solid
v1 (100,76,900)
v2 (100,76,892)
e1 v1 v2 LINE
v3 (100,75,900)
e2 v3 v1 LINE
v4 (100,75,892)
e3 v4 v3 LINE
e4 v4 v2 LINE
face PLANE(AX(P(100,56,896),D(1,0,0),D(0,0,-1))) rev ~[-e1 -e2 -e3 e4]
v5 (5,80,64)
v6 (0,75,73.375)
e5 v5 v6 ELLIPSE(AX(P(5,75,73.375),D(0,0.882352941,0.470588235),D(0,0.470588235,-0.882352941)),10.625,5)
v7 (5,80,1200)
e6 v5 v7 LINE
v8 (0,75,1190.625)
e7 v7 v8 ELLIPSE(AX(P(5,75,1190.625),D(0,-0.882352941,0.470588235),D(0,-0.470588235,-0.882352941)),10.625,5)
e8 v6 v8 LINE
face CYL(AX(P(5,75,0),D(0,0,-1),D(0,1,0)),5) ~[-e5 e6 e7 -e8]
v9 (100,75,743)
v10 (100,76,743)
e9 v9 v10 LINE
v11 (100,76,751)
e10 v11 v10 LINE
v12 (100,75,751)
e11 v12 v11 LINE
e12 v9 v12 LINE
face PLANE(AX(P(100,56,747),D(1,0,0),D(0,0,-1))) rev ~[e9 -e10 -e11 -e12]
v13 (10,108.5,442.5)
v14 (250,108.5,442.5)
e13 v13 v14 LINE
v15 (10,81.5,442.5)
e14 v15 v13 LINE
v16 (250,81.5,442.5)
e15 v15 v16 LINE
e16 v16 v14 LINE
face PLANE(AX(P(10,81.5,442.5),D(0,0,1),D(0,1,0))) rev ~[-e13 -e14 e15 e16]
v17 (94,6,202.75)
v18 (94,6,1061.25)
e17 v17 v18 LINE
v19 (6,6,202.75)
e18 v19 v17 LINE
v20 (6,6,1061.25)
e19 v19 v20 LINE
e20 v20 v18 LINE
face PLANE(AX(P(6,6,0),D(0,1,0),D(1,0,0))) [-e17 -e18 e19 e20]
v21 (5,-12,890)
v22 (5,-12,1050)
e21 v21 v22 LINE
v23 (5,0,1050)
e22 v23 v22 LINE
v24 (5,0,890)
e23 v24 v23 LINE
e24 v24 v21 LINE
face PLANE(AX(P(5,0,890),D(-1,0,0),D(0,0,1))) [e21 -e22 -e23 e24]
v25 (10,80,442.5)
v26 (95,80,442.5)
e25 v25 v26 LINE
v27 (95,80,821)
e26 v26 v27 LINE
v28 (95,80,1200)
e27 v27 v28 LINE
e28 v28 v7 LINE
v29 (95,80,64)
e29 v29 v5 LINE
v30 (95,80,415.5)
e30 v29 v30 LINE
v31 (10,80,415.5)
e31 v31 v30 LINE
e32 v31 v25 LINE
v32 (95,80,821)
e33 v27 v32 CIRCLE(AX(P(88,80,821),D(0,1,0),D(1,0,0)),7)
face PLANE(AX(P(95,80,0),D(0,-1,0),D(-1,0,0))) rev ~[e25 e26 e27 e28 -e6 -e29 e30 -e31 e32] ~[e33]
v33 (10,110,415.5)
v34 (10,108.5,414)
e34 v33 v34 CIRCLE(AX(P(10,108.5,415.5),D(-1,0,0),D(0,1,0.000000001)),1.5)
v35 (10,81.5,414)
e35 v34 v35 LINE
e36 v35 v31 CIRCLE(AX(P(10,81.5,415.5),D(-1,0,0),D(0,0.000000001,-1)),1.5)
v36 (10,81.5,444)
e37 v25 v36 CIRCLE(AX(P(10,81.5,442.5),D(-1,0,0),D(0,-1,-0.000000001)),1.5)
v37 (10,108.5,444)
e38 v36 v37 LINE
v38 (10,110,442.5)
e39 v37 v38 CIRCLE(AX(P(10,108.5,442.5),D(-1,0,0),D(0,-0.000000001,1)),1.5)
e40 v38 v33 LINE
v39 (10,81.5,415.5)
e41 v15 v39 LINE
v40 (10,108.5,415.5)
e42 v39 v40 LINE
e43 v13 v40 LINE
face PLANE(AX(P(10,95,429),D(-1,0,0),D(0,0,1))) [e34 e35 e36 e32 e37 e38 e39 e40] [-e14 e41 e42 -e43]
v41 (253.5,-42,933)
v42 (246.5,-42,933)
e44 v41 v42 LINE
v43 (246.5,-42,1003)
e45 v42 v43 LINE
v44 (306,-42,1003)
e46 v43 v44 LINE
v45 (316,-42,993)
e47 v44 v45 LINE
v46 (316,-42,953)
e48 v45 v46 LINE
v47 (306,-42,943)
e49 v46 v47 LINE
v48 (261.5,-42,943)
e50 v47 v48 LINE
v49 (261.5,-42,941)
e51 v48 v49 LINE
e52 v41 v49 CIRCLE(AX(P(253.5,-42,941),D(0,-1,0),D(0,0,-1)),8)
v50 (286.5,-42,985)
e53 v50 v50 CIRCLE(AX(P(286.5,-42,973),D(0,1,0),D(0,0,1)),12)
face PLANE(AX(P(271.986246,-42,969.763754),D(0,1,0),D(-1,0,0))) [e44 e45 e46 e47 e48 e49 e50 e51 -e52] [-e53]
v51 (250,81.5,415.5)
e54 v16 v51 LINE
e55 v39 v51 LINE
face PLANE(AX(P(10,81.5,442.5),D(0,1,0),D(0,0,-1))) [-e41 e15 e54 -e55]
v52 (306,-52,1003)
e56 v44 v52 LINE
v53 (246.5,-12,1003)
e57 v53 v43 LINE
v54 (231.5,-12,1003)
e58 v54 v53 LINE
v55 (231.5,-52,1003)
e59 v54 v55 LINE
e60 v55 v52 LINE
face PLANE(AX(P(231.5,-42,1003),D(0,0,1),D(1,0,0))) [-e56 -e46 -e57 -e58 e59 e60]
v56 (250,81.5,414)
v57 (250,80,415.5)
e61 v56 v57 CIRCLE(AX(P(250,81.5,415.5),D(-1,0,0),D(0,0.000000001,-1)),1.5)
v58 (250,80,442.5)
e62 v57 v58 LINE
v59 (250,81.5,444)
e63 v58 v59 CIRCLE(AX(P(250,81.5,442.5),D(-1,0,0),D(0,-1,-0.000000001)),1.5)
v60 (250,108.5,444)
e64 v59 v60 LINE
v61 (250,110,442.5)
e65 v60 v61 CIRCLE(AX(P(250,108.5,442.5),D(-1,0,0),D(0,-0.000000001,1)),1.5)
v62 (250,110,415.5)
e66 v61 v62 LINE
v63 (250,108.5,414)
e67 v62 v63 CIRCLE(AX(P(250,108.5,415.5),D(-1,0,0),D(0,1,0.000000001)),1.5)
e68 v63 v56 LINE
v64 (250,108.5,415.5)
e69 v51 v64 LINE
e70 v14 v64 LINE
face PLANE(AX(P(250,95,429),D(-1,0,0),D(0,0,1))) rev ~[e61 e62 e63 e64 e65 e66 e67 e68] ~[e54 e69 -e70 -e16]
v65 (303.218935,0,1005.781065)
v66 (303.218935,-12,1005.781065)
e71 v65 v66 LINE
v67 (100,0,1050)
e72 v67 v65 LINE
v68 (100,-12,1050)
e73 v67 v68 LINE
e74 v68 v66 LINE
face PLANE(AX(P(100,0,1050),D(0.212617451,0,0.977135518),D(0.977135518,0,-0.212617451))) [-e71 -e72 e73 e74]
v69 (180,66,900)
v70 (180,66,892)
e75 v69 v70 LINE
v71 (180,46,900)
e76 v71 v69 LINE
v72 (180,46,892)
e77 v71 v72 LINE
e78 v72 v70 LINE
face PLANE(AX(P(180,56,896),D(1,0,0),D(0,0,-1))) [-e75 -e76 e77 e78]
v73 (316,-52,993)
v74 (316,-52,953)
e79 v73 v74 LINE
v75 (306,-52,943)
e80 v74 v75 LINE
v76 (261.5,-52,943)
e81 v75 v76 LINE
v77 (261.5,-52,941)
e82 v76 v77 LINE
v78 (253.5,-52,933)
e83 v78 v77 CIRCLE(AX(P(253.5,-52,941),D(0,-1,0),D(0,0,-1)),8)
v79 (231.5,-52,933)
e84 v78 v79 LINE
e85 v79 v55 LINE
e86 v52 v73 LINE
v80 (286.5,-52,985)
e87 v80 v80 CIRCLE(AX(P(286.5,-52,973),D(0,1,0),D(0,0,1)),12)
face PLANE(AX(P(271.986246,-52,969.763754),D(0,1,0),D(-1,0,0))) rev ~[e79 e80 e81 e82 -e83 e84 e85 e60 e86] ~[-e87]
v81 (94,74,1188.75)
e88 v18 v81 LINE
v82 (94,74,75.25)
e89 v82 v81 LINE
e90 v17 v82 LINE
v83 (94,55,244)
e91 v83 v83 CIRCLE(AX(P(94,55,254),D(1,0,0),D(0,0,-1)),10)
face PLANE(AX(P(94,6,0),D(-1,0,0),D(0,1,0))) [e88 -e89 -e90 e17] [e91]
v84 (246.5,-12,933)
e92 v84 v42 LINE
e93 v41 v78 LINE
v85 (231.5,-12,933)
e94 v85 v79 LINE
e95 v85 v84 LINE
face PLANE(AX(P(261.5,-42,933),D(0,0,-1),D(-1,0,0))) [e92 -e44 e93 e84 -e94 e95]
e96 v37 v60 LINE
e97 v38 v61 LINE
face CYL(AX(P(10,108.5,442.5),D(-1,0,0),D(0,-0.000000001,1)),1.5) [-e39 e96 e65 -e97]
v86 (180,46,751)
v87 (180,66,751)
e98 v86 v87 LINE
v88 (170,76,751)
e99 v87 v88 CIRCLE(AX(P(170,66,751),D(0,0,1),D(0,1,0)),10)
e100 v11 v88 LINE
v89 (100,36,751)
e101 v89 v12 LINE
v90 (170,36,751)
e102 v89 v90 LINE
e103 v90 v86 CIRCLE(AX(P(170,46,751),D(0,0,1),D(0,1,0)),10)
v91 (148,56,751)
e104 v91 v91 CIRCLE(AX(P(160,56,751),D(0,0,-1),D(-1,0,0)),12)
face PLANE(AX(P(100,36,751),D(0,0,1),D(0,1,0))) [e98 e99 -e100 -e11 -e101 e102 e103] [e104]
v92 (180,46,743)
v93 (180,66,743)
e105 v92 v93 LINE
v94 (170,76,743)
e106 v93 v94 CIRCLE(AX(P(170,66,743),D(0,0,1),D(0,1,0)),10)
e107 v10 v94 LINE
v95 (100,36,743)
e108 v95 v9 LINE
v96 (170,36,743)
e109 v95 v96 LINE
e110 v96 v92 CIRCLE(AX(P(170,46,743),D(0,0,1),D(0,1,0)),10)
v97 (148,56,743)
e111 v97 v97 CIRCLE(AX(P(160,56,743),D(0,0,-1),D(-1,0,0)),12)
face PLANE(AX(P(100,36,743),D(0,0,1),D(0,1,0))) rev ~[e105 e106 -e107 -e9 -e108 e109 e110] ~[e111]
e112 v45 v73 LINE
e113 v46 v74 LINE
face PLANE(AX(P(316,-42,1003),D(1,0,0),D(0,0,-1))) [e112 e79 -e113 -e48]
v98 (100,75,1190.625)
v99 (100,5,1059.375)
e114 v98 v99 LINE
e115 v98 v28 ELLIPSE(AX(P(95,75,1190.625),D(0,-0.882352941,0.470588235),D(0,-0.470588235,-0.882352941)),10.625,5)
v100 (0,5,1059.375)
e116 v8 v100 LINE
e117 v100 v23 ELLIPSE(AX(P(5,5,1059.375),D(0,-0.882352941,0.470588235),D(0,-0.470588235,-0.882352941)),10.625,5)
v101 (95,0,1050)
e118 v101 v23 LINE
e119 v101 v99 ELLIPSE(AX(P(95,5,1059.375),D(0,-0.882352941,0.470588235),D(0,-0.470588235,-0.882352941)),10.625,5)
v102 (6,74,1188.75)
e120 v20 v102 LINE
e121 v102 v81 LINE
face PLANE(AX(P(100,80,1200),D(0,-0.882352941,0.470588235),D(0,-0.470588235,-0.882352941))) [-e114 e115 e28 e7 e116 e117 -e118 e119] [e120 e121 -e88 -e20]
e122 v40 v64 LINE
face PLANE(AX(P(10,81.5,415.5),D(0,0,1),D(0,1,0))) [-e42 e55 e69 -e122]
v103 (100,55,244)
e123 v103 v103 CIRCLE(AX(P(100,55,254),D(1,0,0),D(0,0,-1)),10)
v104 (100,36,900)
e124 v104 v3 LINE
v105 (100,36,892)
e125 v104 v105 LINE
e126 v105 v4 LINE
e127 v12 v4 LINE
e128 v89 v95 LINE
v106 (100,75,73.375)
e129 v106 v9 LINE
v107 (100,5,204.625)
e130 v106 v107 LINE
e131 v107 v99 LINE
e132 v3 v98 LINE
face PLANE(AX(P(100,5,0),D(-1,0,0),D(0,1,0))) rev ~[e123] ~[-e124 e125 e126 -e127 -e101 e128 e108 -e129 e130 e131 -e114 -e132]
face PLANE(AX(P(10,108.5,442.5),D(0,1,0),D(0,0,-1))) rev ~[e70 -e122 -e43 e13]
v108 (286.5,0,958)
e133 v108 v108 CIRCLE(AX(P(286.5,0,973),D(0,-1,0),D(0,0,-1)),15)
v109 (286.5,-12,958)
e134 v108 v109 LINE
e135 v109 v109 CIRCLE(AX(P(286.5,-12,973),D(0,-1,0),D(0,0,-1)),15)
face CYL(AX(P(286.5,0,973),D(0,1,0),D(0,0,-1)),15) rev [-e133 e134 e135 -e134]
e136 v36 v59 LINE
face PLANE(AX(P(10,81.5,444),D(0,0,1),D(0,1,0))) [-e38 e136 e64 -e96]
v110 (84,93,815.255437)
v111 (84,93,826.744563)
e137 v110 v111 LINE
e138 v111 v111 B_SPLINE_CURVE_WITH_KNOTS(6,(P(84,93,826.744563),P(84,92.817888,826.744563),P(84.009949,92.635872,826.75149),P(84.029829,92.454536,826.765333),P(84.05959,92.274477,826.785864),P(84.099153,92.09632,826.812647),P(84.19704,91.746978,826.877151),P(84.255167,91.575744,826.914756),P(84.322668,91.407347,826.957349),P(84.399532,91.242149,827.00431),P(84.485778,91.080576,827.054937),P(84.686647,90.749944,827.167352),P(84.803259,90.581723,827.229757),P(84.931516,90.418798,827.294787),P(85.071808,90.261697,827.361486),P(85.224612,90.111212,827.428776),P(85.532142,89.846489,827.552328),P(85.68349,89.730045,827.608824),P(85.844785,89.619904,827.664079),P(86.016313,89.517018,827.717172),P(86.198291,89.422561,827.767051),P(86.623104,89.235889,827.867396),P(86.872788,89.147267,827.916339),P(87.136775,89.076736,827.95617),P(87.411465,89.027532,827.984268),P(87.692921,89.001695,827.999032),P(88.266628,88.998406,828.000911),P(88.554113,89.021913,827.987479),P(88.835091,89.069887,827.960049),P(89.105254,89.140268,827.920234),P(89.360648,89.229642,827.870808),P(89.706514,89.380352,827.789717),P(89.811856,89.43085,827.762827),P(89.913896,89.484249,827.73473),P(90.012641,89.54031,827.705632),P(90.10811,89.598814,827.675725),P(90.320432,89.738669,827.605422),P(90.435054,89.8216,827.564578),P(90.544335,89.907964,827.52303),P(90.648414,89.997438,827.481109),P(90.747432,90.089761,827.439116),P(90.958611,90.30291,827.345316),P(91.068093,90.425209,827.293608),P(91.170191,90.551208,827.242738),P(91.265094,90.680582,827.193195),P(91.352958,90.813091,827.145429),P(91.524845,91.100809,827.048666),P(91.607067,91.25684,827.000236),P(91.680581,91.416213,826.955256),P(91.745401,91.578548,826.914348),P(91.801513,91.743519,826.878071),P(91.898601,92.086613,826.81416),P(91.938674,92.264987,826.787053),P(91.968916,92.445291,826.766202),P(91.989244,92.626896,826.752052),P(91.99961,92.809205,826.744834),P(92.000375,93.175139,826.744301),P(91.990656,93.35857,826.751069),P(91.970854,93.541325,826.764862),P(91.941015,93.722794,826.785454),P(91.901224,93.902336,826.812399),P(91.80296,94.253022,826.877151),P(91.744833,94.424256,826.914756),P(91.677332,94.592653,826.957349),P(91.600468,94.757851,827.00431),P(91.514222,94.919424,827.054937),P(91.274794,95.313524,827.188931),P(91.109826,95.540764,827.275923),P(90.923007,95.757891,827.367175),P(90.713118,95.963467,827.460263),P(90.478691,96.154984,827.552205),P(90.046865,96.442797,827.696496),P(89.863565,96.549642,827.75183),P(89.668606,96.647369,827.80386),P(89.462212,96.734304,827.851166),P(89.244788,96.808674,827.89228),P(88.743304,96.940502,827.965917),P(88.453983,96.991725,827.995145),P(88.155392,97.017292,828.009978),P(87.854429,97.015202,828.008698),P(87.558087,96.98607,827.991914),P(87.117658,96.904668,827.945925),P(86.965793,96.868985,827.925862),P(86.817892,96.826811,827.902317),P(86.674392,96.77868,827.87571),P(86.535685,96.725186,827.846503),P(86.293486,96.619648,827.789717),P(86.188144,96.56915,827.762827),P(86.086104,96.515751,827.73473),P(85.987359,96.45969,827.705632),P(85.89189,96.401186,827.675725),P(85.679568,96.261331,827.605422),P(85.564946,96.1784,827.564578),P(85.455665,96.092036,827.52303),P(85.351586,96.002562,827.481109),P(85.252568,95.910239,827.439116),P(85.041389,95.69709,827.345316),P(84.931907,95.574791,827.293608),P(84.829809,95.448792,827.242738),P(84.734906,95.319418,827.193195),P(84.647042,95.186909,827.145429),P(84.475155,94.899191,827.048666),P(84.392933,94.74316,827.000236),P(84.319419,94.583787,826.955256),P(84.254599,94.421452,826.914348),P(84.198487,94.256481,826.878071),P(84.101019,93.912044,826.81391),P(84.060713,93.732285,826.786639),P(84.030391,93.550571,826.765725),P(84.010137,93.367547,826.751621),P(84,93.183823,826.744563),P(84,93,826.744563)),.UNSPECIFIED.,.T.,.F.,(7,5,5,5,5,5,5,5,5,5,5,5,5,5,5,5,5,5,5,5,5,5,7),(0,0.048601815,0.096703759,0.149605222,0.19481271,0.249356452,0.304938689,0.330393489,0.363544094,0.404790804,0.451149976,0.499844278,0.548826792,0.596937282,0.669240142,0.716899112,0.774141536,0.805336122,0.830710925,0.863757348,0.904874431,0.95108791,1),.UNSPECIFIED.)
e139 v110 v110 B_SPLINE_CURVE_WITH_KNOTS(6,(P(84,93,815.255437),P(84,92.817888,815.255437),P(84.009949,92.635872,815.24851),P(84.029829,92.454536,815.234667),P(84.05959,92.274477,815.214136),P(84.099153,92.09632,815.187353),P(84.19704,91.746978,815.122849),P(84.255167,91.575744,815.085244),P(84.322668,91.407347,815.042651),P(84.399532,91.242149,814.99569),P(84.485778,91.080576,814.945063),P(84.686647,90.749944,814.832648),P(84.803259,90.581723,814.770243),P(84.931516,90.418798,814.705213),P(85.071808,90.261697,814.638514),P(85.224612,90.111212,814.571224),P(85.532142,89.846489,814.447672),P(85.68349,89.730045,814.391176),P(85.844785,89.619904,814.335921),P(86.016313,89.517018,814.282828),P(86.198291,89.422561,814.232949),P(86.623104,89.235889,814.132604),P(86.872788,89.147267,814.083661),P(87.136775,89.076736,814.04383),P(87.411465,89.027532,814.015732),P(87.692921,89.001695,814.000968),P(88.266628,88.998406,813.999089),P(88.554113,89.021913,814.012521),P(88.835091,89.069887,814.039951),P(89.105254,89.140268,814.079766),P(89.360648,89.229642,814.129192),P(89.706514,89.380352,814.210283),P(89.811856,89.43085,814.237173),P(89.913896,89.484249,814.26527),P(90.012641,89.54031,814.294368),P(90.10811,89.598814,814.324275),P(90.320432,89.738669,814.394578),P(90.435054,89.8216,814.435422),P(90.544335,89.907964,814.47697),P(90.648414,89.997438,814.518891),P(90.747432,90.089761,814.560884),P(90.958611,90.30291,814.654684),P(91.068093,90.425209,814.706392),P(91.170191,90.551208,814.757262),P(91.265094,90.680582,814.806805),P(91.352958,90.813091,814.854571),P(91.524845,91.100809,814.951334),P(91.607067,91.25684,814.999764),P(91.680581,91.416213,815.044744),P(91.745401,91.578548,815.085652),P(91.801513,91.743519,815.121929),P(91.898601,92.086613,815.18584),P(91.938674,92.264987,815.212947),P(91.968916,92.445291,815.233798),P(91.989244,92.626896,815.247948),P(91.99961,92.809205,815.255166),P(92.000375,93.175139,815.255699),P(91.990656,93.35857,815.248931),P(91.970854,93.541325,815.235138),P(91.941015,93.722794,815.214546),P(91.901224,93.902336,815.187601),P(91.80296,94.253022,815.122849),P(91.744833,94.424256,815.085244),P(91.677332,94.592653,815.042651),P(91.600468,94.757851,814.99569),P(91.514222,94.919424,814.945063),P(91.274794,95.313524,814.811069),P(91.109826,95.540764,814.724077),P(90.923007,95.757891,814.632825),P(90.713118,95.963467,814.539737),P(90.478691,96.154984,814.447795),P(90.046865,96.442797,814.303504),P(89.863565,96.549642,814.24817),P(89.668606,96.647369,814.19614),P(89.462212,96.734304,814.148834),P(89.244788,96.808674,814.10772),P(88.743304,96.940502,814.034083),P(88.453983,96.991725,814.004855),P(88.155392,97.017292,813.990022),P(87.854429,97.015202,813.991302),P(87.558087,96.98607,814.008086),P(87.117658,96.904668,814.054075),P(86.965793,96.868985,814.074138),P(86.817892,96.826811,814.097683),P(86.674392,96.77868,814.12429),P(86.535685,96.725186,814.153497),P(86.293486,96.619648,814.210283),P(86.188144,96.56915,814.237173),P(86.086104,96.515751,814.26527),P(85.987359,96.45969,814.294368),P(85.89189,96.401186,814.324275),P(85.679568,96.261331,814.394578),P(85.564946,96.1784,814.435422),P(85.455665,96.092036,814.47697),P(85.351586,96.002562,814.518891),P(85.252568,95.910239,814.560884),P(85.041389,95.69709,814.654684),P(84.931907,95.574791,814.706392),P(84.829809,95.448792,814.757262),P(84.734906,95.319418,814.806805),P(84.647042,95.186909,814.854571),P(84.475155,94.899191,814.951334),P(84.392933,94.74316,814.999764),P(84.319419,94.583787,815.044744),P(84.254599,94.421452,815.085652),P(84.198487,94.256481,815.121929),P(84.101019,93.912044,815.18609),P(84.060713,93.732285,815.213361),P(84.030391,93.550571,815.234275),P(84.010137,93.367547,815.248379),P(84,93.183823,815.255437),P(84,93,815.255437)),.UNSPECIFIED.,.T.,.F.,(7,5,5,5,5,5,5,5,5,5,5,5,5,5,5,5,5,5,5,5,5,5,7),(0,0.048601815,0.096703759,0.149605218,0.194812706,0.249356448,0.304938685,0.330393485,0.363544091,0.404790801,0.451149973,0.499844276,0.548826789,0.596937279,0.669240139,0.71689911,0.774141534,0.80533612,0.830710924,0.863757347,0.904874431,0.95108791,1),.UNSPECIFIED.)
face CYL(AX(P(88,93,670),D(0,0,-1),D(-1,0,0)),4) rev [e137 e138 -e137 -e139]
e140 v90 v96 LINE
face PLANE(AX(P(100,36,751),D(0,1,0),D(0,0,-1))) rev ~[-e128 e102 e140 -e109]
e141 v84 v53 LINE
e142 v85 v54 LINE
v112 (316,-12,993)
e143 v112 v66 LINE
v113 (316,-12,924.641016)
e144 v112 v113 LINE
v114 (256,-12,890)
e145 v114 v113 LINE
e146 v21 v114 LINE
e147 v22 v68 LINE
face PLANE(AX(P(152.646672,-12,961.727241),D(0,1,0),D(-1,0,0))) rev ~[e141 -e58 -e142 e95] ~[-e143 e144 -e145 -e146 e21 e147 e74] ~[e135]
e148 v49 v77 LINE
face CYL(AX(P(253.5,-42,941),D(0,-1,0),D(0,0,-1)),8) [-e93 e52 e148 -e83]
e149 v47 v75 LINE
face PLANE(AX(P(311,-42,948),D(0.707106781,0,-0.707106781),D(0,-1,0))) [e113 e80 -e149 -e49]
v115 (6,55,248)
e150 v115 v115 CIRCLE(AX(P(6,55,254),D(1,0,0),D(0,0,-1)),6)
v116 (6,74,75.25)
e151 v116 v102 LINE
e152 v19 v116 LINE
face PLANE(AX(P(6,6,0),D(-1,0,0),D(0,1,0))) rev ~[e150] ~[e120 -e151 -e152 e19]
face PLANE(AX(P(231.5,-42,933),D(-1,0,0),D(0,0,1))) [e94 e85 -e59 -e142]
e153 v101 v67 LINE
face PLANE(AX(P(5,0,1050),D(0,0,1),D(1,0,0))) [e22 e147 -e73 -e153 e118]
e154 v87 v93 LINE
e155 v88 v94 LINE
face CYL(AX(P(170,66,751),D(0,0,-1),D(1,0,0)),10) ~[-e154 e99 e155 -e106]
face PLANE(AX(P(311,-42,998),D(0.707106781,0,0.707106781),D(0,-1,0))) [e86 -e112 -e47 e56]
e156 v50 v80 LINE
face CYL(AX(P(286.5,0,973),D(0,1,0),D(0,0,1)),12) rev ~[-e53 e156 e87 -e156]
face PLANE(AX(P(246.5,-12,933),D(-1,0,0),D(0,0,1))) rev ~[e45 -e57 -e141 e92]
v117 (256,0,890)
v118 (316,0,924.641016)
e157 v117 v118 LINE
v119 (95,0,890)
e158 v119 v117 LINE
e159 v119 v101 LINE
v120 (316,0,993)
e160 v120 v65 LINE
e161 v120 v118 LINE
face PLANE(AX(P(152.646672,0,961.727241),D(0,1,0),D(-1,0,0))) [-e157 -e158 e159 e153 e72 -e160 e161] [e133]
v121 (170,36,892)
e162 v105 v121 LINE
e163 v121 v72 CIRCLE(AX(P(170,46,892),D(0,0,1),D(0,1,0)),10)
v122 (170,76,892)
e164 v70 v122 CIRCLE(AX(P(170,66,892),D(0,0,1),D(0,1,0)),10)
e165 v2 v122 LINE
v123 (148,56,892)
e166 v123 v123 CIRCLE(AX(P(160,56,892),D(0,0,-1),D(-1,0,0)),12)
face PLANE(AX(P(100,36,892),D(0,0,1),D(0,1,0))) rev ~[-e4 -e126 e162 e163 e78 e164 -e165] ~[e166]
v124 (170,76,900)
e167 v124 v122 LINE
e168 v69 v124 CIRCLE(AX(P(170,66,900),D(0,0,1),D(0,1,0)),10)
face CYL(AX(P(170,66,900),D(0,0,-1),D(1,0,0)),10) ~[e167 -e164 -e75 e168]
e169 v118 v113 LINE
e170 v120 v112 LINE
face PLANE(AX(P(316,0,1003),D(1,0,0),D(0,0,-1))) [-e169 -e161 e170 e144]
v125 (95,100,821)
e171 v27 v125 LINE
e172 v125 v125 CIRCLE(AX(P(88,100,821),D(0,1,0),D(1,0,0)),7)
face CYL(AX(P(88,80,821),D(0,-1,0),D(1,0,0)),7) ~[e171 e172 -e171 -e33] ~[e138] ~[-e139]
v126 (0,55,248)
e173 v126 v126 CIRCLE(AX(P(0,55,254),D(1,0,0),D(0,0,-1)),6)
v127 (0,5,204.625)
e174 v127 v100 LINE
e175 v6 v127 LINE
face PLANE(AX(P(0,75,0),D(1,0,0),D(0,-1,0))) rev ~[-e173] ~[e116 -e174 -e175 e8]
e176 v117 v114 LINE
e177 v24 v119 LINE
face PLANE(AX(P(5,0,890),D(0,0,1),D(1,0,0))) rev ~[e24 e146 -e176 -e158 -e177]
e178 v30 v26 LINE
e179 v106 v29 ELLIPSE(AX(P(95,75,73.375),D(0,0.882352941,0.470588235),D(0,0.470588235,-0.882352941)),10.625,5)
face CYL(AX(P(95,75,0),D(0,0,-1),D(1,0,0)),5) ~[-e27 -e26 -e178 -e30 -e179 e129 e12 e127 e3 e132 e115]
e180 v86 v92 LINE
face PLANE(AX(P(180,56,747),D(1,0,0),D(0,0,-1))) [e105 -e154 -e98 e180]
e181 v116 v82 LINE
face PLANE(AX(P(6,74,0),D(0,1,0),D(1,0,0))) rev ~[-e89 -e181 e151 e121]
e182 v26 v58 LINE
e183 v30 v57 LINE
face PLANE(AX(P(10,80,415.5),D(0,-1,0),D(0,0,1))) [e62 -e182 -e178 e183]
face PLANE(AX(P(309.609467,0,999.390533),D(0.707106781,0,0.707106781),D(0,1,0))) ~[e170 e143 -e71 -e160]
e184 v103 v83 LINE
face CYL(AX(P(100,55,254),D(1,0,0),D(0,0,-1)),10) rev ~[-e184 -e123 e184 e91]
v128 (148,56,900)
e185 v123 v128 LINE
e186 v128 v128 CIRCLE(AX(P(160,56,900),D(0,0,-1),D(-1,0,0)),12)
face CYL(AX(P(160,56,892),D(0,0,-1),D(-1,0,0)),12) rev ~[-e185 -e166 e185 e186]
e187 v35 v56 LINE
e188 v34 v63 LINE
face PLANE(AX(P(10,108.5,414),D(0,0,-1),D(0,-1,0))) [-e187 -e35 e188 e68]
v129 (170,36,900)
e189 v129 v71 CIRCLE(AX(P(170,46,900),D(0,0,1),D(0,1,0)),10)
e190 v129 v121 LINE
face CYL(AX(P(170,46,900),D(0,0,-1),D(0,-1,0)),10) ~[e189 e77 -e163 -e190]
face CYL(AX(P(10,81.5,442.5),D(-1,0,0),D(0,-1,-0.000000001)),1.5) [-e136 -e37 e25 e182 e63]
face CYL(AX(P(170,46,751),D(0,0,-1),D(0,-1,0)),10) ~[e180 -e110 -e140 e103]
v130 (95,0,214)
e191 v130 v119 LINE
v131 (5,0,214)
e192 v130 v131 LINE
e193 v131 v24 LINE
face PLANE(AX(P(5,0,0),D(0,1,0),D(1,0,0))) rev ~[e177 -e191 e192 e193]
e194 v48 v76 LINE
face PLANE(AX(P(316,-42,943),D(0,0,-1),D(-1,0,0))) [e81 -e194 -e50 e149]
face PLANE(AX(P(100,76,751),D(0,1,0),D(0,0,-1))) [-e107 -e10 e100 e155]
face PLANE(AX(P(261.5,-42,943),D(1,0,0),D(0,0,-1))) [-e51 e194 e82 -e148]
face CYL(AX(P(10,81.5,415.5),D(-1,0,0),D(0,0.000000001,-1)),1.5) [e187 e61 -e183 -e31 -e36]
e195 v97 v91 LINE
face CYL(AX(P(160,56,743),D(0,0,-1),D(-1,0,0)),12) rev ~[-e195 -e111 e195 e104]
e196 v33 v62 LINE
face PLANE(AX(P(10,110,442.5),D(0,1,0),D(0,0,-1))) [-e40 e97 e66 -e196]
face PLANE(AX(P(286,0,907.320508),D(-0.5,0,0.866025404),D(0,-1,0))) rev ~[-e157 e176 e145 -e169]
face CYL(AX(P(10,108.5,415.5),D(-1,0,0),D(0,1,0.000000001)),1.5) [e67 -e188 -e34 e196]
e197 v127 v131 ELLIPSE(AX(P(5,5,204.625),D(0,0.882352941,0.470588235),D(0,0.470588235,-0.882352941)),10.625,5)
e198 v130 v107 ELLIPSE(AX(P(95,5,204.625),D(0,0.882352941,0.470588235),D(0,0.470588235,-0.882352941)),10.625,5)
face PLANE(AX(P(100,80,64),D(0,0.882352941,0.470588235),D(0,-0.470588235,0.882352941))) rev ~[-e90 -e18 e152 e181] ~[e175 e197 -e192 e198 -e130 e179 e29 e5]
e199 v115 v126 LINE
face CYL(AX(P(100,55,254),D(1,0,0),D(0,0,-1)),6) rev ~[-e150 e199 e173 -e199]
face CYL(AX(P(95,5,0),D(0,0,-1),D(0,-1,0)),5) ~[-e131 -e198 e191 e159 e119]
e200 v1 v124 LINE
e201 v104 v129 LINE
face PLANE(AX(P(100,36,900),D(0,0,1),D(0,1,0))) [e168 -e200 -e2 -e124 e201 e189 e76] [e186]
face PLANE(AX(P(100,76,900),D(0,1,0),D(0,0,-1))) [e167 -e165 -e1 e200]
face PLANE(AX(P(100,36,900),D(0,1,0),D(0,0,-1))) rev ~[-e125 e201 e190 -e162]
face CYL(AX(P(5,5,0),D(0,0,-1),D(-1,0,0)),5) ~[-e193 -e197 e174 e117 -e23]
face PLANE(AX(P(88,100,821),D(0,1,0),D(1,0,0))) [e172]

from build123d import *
from OCP.BRepFilletAPI import BRepFilletAPI_MakeChamfer

# Parameters (mm, degrees)
SCHIZZO1_W                      = 88
SCHIZZO1_H                      = 68
ESTRUSIONE_SOTTILE1_DEPTH       = 1200
ESTRUSIONE1_DEPTH               = 1207.813987324
SCHIZZO4_R                      = 15
ESTRUSIONE3_DEPTH               = 12
SCHIZZO5_W                      = 15
SCHIZZO5_H                      = 70
ESTRUSIONE4_DEPTH               = 30
ESTRUSIONE5_DEPTH               = 10
SCHIZZO8_R                      = 12
ESTRUSIONE6_DEPTH               = 1244.48542412
SMUSSO1_SIZE                    = 60
SMUSSO1_SIZE2                   = 34.641016151
SMUSSO2_SIZE                    = 10
SMUSSO2_SIZE2                   = 13.08013562
RACCORDO1_R                     = 8
SCHIZZO9_R                      = 6
ESTRUSIONE7_DEPTH               = 1222.90670675
SCHIZZO10_R                     = 10
ESTRUSIONE8_DEPTH               = 10
ESTRUSIONE_SOTTILE2_DEPTH       = 150
ESTRUSIONE_SOTTILE2_DEPTH_BACK  = 90
SCHIZZO11_W                     = 27
SCHIZZO11_H                     = 27
SCHIZZO12_W                     = 8
SCHIZZO12_H                     = 40
ESTRUSIONE_ESTRUSIONE1_DEPTH    = 80
SCHIZZO13_R                     = 12
TAGLIO_ESTRUSIONE1_DEPTH        = 894.050950394
RACCORDO2_R                     = 10
RIPETIZIONE_A_L1_COUNT          = 2
RIPETIZIONE_A_L1_PITCH          = 149
RACCORDO2_OF_RIPETIZIONE_A_L1_R = 10
SCHIZZO14_R                     = 7
ESTRUSIONE_ESTRUSIONE2_DEPTH    = 20
TAGLIO_ESTRUSIONE2_START        = 670
SCHIZZO15_R                     = 4
TAGLIO_ESTRUSIONE2_DEPTH        = 250


with BuildPart() as part:
    # Schizzo1 → Estrusione-Sottile1 (new body)
    with BuildSketch(Plane.XY):
        with BuildLine():
            Line((5, 0), (95, 0))
            ThreePointArc((95, 0), (98.535533906, 1.464466094), (100, 5))
            Line((100, 5), (100, 75))
            ThreePointArc((100, 75), (98.535533906, 78.535533906), (95, 80))
            Line((95, 80), (5, 80))
            ThreePointArc((5, 80), (1.464466094, 78.535533906), (0, 75))
            Line((0, 75), (0, 5))
            ThreePointArc((0, 5), (1.464466094, 1.464466094), (5, 0))
        make_face()
        with Locations((50, 40)):
            Rectangle(SCHIZZO1_W, SCHIZZO1_H, mode=Mode.SUBTRACT)
    extrude(amount=ESTRUSIONE_SOTTILE1_DEPTH)

    # Schizzo2 → Estrusione1 (cut, through all)
    with BuildSketch(Plane(origin=(100, 0, 0), x_dir=(0, 0, -1), z_dir=(1, 0, 0))):
        Polygon((-1200, 80), (-1050, 0), (-1200, 0), align=None)
        Polygon((-64, 80), (-214, 0), (0, 0), (0, 80), align=None)
    extrude(amount=-ESTRUSIONE1_DEPTH, mode=Mode.SUBTRACT)

    # Schizzo4 → Estrusione3 (add)
    with BuildSketch(Plane.XZ):
        Polygon((5, 1050), (100, 1050), (316, 1003), (316, 890), (95, 890), (5, 890), align=None)
        with Locations(Location((286.5, 973, 0), (0, 0, 270))):
            Circle(SCHIZZO4_R, mode=Mode.SUBTRACT)
    extrude(amount=ESTRUSIONE3_DEPTH)

    # Schizzo5 → Estrusione4 (add)
    with BuildSketch(Plane.XZ.offset(12)):
        with Locations((239, 968)):
            Rectangle(SCHIZZO5_W, SCHIZZO5_H)
    extrude(amount=ESTRUSIONE4_DEPTH)

    # Schizzo7 → Estrusione5 (add)
    with BuildSketch(Plane.XZ.offset(42)):
        Polygon((231.5, 1003), (316, 1003), (316, 943), (261.5, 943), (261.5, 933), (231.5, 933), align=None)
    extrude(amount=ESTRUSIONE5_DEPTH)

    # Schizzo8 → Estrusione6 (cut, through all)
    with BuildSketch(Plane(origin=(0, 0, 0), x_dir=(1, 0, 0), z_dir=(0, 1, 0))):
        with Locations(Location((286.5, -973, 0), (0, 0, 270))):
            Circle(SCHIZZO8_R)
    extrude(amount=-ESTRUSIONE6_DEPTH, mode=Mode.SUBTRACT)

    # Smusso1
    smusso1_edges = [part.edges().sort_by_distance(p)[0] for p in [
        (316, -6, 890),
    ]]
    smusso1_side = [part.faces().sort_by_distance(p)[0] for p in [
        (160.5, -6, 890),
    ]]
    chamfer(smusso1_edges, length=SMUSSO1_SIZE, length2=SMUSSO1_SIZE2, reference=smusso1_side[0])

    # Smusso2: one chamfer whose edges measure the first distance from different faces: ONE call of the kernel's chamfer builder (chamfer() names one face for all edges)
    smusso2_edges_1 = [part.edges().sort_by_distance(p)[0] for p in [
        (316, -6, 1003),
    ]]
    smusso2_side_1 = [part.faces().sort_by_distance(p)[0] for p in [
        (316, -6, 963.820508076),
    ]]
    smusso2_edges_2 = [part.edges().sort_by_distance(p)[0] for p in [
        (316, -47, 1003),
        (316, -47, 943),
    ]]
    smusso2 = BRepFilletAPI_MakeChamfer(part.part.solid().wrapped)
    for e in smusso2_edges_1:
        smusso2.Add(SMUSSO2_SIZE, SMUSSO2_SIZE2, e.wrapped, smusso2_side_1[0].wrapped)  # the first distance lies on this face
    for e in smusso2_edges_2:
        smusso2.Add(SMUSSO2_SIZE, e.wrapped)
    add(Compound.cast(smusso2.Shape()), mode=Mode.REPLACE)

    # Raccordo1
    raccordo1_edges = [part.edges().sort_by_distance(p)[0] for p in [
        (261.5, -47, 933),
    ]]
    fillet(raccordo1_edges, radius=RACCORDO1_R)

    # Schizzo9 → Estrusione7 (cut, through all)
    with BuildSketch(Plane(origin=(100, 0, 0), x_dir=(0, 0, -1), z_dir=(1, 0, 0))):
        with Locations((-254, 55)):
            Circle(SCHIZZO9_R)
    extrude(amount=-ESTRUSIONE7_DEPTH, mode=Mode.SUBTRACT)

    # Schizzo10 → Estrusione8 (cut)
    with BuildSketch(Plane(origin=(100, 0, 0), x_dir=(0, 0, -1), z_dir=(1, 0, 0))):
        with Locations((-254, 55)):
            Circle(SCHIZZO10_R)
    extrude(amount=-ESTRUSIONE8_DEPTH, mode=Mode.SUBTRACT)

    # Schizzo11 → Estrusione-Sottile2 (add, two sides: drawn at the far end of the back side and taken through both)
    with BuildSketch(Plane(origin=(100, 0, 0), x_dir=(0, 0, -1), z_dir=(1, 0, 0)).offset(-ESTRUSIONE_SOTTILE2_DEPTH_BACK)):
        with BuildLine():
            Line((-442.5, 110), (-415.5, 110))
            ThreePointArc((-415.5, 110), (-414.439339828, 109.560660172), (-414, 108.5))
            Line((-414, 108.5), (-414, 81.5))
            ThreePointArc((-414, 81.5), (-414.439339828, 80.439339828), (-415.5, 80))
            Line((-415.5, 80), (-442.5, 80))
            ThreePointArc((-442.5, 80), (-443.560660172, 80.439339828), (-444, 81.5))
            Line((-444, 81.5), (-444, 108.5))
            ThreePointArc((-444, 108.5), (-443.560660172, 109.560660172), (-442.5, 110))
        make_face()
        with Locations((-429, 95)):
            Rectangle(SCHIZZO11_W, SCHIZZO11_H, mode=Mode.SUBTRACT)
    extrude(amount=ESTRUSIONE_SOTTILE2_DEPTH + ESTRUSIONE_SOTTILE2_DEPTH_BACK)

    # Schizzo12 → Estrusione-Estrusione1 (add)
    with BuildSketch(Plane(origin=(100, 0, 0), x_dir=(0, 0, -1), z_dir=(1, 0, 0))):
        with Locations((-896, 56)):
            Rectangle(SCHIZZO12_W, SCHIZZO12_H)
    estrusione_estrusione1 = extrude(amount=ESTRUSIONE_ESTRUSIONE1_DEPTH)

    # Schizzo13 → Taglio-Estrusione1 (cut, through all)
    with BuildSketch(Plane(origin=(0, 0, 892), x_dir=(-1, 0, 0), z_dir=(0, 0, -1))):
        with Locations((-160, 56)):
            Circle(SCHIZZO13_R)
    taglio_estrusione1 = extrude(amount=-TAGLIO_ESTRUSIONE1_DEPTH, mode=Mode.SUBTRACT)

    # Raccordo2
    raccordo2_edges = [part.edges().sort_by_distance(p)[0] for p in [
        (180, 36, 896),
        (180, 76, 896),
    ]]
    fillet(raccordo2_edges, radius=RACCORDO2_R)

    # Ripetizione a L1: Estrusione-Estrusione1, Taglio-Estrusione1 ×2
    with Locations(*[(0, 0, -i * RIPETIZIONE_A_L1_PITCH) for i in range(1, RIPETIZIONE_A_L1_COUNT)]):
        add(estrusione_estrusione1)
        add(taglio_estrusione1, mode=Mode.SUBTRACT)

    # Raccordo2 of Ripetizione a L1
    raccordo2_of_ripetizione_a_l1_edges = [part.edges().sort_by_distance(p)[0] for p in [
        (180, 36, 747),
        (180, 76, 747),
    ]]
    fillet(raccordo2_of_ripetizione_a_l1_edges, radius=RACCORDO2_OF_RIPETIZIONE_A_L1_R)

    # Schizzo14 → Estrusione-Estrusione2 (add)
    with BuildSketch(Plane(origin=(0, 80, 0), x_dir=(1, 0, 0), z_dir=(0, 1, 0))):
        with Locations((88, -821)):
            Circle(SCHIZZO14_R)
    extrude(amount=ESTRUSIONE_ESTRUSIONE2_DEPTH)

    # Schizzo15 → Taglio-Estrusione2 (cut)
    with BuildSketch(Plane.XY.offset(TAGLIO_ESTRUSIONE2_START)):
        with Locations(Location((88, 93, 0), (0, 0, 180))):
            Circle(SCHIZZO15_R)
    extrude(amount=TAGLIO_ESTRUSIONE2_DEPTH, mode=Mode.SUBTRACT)


solid = part.part
